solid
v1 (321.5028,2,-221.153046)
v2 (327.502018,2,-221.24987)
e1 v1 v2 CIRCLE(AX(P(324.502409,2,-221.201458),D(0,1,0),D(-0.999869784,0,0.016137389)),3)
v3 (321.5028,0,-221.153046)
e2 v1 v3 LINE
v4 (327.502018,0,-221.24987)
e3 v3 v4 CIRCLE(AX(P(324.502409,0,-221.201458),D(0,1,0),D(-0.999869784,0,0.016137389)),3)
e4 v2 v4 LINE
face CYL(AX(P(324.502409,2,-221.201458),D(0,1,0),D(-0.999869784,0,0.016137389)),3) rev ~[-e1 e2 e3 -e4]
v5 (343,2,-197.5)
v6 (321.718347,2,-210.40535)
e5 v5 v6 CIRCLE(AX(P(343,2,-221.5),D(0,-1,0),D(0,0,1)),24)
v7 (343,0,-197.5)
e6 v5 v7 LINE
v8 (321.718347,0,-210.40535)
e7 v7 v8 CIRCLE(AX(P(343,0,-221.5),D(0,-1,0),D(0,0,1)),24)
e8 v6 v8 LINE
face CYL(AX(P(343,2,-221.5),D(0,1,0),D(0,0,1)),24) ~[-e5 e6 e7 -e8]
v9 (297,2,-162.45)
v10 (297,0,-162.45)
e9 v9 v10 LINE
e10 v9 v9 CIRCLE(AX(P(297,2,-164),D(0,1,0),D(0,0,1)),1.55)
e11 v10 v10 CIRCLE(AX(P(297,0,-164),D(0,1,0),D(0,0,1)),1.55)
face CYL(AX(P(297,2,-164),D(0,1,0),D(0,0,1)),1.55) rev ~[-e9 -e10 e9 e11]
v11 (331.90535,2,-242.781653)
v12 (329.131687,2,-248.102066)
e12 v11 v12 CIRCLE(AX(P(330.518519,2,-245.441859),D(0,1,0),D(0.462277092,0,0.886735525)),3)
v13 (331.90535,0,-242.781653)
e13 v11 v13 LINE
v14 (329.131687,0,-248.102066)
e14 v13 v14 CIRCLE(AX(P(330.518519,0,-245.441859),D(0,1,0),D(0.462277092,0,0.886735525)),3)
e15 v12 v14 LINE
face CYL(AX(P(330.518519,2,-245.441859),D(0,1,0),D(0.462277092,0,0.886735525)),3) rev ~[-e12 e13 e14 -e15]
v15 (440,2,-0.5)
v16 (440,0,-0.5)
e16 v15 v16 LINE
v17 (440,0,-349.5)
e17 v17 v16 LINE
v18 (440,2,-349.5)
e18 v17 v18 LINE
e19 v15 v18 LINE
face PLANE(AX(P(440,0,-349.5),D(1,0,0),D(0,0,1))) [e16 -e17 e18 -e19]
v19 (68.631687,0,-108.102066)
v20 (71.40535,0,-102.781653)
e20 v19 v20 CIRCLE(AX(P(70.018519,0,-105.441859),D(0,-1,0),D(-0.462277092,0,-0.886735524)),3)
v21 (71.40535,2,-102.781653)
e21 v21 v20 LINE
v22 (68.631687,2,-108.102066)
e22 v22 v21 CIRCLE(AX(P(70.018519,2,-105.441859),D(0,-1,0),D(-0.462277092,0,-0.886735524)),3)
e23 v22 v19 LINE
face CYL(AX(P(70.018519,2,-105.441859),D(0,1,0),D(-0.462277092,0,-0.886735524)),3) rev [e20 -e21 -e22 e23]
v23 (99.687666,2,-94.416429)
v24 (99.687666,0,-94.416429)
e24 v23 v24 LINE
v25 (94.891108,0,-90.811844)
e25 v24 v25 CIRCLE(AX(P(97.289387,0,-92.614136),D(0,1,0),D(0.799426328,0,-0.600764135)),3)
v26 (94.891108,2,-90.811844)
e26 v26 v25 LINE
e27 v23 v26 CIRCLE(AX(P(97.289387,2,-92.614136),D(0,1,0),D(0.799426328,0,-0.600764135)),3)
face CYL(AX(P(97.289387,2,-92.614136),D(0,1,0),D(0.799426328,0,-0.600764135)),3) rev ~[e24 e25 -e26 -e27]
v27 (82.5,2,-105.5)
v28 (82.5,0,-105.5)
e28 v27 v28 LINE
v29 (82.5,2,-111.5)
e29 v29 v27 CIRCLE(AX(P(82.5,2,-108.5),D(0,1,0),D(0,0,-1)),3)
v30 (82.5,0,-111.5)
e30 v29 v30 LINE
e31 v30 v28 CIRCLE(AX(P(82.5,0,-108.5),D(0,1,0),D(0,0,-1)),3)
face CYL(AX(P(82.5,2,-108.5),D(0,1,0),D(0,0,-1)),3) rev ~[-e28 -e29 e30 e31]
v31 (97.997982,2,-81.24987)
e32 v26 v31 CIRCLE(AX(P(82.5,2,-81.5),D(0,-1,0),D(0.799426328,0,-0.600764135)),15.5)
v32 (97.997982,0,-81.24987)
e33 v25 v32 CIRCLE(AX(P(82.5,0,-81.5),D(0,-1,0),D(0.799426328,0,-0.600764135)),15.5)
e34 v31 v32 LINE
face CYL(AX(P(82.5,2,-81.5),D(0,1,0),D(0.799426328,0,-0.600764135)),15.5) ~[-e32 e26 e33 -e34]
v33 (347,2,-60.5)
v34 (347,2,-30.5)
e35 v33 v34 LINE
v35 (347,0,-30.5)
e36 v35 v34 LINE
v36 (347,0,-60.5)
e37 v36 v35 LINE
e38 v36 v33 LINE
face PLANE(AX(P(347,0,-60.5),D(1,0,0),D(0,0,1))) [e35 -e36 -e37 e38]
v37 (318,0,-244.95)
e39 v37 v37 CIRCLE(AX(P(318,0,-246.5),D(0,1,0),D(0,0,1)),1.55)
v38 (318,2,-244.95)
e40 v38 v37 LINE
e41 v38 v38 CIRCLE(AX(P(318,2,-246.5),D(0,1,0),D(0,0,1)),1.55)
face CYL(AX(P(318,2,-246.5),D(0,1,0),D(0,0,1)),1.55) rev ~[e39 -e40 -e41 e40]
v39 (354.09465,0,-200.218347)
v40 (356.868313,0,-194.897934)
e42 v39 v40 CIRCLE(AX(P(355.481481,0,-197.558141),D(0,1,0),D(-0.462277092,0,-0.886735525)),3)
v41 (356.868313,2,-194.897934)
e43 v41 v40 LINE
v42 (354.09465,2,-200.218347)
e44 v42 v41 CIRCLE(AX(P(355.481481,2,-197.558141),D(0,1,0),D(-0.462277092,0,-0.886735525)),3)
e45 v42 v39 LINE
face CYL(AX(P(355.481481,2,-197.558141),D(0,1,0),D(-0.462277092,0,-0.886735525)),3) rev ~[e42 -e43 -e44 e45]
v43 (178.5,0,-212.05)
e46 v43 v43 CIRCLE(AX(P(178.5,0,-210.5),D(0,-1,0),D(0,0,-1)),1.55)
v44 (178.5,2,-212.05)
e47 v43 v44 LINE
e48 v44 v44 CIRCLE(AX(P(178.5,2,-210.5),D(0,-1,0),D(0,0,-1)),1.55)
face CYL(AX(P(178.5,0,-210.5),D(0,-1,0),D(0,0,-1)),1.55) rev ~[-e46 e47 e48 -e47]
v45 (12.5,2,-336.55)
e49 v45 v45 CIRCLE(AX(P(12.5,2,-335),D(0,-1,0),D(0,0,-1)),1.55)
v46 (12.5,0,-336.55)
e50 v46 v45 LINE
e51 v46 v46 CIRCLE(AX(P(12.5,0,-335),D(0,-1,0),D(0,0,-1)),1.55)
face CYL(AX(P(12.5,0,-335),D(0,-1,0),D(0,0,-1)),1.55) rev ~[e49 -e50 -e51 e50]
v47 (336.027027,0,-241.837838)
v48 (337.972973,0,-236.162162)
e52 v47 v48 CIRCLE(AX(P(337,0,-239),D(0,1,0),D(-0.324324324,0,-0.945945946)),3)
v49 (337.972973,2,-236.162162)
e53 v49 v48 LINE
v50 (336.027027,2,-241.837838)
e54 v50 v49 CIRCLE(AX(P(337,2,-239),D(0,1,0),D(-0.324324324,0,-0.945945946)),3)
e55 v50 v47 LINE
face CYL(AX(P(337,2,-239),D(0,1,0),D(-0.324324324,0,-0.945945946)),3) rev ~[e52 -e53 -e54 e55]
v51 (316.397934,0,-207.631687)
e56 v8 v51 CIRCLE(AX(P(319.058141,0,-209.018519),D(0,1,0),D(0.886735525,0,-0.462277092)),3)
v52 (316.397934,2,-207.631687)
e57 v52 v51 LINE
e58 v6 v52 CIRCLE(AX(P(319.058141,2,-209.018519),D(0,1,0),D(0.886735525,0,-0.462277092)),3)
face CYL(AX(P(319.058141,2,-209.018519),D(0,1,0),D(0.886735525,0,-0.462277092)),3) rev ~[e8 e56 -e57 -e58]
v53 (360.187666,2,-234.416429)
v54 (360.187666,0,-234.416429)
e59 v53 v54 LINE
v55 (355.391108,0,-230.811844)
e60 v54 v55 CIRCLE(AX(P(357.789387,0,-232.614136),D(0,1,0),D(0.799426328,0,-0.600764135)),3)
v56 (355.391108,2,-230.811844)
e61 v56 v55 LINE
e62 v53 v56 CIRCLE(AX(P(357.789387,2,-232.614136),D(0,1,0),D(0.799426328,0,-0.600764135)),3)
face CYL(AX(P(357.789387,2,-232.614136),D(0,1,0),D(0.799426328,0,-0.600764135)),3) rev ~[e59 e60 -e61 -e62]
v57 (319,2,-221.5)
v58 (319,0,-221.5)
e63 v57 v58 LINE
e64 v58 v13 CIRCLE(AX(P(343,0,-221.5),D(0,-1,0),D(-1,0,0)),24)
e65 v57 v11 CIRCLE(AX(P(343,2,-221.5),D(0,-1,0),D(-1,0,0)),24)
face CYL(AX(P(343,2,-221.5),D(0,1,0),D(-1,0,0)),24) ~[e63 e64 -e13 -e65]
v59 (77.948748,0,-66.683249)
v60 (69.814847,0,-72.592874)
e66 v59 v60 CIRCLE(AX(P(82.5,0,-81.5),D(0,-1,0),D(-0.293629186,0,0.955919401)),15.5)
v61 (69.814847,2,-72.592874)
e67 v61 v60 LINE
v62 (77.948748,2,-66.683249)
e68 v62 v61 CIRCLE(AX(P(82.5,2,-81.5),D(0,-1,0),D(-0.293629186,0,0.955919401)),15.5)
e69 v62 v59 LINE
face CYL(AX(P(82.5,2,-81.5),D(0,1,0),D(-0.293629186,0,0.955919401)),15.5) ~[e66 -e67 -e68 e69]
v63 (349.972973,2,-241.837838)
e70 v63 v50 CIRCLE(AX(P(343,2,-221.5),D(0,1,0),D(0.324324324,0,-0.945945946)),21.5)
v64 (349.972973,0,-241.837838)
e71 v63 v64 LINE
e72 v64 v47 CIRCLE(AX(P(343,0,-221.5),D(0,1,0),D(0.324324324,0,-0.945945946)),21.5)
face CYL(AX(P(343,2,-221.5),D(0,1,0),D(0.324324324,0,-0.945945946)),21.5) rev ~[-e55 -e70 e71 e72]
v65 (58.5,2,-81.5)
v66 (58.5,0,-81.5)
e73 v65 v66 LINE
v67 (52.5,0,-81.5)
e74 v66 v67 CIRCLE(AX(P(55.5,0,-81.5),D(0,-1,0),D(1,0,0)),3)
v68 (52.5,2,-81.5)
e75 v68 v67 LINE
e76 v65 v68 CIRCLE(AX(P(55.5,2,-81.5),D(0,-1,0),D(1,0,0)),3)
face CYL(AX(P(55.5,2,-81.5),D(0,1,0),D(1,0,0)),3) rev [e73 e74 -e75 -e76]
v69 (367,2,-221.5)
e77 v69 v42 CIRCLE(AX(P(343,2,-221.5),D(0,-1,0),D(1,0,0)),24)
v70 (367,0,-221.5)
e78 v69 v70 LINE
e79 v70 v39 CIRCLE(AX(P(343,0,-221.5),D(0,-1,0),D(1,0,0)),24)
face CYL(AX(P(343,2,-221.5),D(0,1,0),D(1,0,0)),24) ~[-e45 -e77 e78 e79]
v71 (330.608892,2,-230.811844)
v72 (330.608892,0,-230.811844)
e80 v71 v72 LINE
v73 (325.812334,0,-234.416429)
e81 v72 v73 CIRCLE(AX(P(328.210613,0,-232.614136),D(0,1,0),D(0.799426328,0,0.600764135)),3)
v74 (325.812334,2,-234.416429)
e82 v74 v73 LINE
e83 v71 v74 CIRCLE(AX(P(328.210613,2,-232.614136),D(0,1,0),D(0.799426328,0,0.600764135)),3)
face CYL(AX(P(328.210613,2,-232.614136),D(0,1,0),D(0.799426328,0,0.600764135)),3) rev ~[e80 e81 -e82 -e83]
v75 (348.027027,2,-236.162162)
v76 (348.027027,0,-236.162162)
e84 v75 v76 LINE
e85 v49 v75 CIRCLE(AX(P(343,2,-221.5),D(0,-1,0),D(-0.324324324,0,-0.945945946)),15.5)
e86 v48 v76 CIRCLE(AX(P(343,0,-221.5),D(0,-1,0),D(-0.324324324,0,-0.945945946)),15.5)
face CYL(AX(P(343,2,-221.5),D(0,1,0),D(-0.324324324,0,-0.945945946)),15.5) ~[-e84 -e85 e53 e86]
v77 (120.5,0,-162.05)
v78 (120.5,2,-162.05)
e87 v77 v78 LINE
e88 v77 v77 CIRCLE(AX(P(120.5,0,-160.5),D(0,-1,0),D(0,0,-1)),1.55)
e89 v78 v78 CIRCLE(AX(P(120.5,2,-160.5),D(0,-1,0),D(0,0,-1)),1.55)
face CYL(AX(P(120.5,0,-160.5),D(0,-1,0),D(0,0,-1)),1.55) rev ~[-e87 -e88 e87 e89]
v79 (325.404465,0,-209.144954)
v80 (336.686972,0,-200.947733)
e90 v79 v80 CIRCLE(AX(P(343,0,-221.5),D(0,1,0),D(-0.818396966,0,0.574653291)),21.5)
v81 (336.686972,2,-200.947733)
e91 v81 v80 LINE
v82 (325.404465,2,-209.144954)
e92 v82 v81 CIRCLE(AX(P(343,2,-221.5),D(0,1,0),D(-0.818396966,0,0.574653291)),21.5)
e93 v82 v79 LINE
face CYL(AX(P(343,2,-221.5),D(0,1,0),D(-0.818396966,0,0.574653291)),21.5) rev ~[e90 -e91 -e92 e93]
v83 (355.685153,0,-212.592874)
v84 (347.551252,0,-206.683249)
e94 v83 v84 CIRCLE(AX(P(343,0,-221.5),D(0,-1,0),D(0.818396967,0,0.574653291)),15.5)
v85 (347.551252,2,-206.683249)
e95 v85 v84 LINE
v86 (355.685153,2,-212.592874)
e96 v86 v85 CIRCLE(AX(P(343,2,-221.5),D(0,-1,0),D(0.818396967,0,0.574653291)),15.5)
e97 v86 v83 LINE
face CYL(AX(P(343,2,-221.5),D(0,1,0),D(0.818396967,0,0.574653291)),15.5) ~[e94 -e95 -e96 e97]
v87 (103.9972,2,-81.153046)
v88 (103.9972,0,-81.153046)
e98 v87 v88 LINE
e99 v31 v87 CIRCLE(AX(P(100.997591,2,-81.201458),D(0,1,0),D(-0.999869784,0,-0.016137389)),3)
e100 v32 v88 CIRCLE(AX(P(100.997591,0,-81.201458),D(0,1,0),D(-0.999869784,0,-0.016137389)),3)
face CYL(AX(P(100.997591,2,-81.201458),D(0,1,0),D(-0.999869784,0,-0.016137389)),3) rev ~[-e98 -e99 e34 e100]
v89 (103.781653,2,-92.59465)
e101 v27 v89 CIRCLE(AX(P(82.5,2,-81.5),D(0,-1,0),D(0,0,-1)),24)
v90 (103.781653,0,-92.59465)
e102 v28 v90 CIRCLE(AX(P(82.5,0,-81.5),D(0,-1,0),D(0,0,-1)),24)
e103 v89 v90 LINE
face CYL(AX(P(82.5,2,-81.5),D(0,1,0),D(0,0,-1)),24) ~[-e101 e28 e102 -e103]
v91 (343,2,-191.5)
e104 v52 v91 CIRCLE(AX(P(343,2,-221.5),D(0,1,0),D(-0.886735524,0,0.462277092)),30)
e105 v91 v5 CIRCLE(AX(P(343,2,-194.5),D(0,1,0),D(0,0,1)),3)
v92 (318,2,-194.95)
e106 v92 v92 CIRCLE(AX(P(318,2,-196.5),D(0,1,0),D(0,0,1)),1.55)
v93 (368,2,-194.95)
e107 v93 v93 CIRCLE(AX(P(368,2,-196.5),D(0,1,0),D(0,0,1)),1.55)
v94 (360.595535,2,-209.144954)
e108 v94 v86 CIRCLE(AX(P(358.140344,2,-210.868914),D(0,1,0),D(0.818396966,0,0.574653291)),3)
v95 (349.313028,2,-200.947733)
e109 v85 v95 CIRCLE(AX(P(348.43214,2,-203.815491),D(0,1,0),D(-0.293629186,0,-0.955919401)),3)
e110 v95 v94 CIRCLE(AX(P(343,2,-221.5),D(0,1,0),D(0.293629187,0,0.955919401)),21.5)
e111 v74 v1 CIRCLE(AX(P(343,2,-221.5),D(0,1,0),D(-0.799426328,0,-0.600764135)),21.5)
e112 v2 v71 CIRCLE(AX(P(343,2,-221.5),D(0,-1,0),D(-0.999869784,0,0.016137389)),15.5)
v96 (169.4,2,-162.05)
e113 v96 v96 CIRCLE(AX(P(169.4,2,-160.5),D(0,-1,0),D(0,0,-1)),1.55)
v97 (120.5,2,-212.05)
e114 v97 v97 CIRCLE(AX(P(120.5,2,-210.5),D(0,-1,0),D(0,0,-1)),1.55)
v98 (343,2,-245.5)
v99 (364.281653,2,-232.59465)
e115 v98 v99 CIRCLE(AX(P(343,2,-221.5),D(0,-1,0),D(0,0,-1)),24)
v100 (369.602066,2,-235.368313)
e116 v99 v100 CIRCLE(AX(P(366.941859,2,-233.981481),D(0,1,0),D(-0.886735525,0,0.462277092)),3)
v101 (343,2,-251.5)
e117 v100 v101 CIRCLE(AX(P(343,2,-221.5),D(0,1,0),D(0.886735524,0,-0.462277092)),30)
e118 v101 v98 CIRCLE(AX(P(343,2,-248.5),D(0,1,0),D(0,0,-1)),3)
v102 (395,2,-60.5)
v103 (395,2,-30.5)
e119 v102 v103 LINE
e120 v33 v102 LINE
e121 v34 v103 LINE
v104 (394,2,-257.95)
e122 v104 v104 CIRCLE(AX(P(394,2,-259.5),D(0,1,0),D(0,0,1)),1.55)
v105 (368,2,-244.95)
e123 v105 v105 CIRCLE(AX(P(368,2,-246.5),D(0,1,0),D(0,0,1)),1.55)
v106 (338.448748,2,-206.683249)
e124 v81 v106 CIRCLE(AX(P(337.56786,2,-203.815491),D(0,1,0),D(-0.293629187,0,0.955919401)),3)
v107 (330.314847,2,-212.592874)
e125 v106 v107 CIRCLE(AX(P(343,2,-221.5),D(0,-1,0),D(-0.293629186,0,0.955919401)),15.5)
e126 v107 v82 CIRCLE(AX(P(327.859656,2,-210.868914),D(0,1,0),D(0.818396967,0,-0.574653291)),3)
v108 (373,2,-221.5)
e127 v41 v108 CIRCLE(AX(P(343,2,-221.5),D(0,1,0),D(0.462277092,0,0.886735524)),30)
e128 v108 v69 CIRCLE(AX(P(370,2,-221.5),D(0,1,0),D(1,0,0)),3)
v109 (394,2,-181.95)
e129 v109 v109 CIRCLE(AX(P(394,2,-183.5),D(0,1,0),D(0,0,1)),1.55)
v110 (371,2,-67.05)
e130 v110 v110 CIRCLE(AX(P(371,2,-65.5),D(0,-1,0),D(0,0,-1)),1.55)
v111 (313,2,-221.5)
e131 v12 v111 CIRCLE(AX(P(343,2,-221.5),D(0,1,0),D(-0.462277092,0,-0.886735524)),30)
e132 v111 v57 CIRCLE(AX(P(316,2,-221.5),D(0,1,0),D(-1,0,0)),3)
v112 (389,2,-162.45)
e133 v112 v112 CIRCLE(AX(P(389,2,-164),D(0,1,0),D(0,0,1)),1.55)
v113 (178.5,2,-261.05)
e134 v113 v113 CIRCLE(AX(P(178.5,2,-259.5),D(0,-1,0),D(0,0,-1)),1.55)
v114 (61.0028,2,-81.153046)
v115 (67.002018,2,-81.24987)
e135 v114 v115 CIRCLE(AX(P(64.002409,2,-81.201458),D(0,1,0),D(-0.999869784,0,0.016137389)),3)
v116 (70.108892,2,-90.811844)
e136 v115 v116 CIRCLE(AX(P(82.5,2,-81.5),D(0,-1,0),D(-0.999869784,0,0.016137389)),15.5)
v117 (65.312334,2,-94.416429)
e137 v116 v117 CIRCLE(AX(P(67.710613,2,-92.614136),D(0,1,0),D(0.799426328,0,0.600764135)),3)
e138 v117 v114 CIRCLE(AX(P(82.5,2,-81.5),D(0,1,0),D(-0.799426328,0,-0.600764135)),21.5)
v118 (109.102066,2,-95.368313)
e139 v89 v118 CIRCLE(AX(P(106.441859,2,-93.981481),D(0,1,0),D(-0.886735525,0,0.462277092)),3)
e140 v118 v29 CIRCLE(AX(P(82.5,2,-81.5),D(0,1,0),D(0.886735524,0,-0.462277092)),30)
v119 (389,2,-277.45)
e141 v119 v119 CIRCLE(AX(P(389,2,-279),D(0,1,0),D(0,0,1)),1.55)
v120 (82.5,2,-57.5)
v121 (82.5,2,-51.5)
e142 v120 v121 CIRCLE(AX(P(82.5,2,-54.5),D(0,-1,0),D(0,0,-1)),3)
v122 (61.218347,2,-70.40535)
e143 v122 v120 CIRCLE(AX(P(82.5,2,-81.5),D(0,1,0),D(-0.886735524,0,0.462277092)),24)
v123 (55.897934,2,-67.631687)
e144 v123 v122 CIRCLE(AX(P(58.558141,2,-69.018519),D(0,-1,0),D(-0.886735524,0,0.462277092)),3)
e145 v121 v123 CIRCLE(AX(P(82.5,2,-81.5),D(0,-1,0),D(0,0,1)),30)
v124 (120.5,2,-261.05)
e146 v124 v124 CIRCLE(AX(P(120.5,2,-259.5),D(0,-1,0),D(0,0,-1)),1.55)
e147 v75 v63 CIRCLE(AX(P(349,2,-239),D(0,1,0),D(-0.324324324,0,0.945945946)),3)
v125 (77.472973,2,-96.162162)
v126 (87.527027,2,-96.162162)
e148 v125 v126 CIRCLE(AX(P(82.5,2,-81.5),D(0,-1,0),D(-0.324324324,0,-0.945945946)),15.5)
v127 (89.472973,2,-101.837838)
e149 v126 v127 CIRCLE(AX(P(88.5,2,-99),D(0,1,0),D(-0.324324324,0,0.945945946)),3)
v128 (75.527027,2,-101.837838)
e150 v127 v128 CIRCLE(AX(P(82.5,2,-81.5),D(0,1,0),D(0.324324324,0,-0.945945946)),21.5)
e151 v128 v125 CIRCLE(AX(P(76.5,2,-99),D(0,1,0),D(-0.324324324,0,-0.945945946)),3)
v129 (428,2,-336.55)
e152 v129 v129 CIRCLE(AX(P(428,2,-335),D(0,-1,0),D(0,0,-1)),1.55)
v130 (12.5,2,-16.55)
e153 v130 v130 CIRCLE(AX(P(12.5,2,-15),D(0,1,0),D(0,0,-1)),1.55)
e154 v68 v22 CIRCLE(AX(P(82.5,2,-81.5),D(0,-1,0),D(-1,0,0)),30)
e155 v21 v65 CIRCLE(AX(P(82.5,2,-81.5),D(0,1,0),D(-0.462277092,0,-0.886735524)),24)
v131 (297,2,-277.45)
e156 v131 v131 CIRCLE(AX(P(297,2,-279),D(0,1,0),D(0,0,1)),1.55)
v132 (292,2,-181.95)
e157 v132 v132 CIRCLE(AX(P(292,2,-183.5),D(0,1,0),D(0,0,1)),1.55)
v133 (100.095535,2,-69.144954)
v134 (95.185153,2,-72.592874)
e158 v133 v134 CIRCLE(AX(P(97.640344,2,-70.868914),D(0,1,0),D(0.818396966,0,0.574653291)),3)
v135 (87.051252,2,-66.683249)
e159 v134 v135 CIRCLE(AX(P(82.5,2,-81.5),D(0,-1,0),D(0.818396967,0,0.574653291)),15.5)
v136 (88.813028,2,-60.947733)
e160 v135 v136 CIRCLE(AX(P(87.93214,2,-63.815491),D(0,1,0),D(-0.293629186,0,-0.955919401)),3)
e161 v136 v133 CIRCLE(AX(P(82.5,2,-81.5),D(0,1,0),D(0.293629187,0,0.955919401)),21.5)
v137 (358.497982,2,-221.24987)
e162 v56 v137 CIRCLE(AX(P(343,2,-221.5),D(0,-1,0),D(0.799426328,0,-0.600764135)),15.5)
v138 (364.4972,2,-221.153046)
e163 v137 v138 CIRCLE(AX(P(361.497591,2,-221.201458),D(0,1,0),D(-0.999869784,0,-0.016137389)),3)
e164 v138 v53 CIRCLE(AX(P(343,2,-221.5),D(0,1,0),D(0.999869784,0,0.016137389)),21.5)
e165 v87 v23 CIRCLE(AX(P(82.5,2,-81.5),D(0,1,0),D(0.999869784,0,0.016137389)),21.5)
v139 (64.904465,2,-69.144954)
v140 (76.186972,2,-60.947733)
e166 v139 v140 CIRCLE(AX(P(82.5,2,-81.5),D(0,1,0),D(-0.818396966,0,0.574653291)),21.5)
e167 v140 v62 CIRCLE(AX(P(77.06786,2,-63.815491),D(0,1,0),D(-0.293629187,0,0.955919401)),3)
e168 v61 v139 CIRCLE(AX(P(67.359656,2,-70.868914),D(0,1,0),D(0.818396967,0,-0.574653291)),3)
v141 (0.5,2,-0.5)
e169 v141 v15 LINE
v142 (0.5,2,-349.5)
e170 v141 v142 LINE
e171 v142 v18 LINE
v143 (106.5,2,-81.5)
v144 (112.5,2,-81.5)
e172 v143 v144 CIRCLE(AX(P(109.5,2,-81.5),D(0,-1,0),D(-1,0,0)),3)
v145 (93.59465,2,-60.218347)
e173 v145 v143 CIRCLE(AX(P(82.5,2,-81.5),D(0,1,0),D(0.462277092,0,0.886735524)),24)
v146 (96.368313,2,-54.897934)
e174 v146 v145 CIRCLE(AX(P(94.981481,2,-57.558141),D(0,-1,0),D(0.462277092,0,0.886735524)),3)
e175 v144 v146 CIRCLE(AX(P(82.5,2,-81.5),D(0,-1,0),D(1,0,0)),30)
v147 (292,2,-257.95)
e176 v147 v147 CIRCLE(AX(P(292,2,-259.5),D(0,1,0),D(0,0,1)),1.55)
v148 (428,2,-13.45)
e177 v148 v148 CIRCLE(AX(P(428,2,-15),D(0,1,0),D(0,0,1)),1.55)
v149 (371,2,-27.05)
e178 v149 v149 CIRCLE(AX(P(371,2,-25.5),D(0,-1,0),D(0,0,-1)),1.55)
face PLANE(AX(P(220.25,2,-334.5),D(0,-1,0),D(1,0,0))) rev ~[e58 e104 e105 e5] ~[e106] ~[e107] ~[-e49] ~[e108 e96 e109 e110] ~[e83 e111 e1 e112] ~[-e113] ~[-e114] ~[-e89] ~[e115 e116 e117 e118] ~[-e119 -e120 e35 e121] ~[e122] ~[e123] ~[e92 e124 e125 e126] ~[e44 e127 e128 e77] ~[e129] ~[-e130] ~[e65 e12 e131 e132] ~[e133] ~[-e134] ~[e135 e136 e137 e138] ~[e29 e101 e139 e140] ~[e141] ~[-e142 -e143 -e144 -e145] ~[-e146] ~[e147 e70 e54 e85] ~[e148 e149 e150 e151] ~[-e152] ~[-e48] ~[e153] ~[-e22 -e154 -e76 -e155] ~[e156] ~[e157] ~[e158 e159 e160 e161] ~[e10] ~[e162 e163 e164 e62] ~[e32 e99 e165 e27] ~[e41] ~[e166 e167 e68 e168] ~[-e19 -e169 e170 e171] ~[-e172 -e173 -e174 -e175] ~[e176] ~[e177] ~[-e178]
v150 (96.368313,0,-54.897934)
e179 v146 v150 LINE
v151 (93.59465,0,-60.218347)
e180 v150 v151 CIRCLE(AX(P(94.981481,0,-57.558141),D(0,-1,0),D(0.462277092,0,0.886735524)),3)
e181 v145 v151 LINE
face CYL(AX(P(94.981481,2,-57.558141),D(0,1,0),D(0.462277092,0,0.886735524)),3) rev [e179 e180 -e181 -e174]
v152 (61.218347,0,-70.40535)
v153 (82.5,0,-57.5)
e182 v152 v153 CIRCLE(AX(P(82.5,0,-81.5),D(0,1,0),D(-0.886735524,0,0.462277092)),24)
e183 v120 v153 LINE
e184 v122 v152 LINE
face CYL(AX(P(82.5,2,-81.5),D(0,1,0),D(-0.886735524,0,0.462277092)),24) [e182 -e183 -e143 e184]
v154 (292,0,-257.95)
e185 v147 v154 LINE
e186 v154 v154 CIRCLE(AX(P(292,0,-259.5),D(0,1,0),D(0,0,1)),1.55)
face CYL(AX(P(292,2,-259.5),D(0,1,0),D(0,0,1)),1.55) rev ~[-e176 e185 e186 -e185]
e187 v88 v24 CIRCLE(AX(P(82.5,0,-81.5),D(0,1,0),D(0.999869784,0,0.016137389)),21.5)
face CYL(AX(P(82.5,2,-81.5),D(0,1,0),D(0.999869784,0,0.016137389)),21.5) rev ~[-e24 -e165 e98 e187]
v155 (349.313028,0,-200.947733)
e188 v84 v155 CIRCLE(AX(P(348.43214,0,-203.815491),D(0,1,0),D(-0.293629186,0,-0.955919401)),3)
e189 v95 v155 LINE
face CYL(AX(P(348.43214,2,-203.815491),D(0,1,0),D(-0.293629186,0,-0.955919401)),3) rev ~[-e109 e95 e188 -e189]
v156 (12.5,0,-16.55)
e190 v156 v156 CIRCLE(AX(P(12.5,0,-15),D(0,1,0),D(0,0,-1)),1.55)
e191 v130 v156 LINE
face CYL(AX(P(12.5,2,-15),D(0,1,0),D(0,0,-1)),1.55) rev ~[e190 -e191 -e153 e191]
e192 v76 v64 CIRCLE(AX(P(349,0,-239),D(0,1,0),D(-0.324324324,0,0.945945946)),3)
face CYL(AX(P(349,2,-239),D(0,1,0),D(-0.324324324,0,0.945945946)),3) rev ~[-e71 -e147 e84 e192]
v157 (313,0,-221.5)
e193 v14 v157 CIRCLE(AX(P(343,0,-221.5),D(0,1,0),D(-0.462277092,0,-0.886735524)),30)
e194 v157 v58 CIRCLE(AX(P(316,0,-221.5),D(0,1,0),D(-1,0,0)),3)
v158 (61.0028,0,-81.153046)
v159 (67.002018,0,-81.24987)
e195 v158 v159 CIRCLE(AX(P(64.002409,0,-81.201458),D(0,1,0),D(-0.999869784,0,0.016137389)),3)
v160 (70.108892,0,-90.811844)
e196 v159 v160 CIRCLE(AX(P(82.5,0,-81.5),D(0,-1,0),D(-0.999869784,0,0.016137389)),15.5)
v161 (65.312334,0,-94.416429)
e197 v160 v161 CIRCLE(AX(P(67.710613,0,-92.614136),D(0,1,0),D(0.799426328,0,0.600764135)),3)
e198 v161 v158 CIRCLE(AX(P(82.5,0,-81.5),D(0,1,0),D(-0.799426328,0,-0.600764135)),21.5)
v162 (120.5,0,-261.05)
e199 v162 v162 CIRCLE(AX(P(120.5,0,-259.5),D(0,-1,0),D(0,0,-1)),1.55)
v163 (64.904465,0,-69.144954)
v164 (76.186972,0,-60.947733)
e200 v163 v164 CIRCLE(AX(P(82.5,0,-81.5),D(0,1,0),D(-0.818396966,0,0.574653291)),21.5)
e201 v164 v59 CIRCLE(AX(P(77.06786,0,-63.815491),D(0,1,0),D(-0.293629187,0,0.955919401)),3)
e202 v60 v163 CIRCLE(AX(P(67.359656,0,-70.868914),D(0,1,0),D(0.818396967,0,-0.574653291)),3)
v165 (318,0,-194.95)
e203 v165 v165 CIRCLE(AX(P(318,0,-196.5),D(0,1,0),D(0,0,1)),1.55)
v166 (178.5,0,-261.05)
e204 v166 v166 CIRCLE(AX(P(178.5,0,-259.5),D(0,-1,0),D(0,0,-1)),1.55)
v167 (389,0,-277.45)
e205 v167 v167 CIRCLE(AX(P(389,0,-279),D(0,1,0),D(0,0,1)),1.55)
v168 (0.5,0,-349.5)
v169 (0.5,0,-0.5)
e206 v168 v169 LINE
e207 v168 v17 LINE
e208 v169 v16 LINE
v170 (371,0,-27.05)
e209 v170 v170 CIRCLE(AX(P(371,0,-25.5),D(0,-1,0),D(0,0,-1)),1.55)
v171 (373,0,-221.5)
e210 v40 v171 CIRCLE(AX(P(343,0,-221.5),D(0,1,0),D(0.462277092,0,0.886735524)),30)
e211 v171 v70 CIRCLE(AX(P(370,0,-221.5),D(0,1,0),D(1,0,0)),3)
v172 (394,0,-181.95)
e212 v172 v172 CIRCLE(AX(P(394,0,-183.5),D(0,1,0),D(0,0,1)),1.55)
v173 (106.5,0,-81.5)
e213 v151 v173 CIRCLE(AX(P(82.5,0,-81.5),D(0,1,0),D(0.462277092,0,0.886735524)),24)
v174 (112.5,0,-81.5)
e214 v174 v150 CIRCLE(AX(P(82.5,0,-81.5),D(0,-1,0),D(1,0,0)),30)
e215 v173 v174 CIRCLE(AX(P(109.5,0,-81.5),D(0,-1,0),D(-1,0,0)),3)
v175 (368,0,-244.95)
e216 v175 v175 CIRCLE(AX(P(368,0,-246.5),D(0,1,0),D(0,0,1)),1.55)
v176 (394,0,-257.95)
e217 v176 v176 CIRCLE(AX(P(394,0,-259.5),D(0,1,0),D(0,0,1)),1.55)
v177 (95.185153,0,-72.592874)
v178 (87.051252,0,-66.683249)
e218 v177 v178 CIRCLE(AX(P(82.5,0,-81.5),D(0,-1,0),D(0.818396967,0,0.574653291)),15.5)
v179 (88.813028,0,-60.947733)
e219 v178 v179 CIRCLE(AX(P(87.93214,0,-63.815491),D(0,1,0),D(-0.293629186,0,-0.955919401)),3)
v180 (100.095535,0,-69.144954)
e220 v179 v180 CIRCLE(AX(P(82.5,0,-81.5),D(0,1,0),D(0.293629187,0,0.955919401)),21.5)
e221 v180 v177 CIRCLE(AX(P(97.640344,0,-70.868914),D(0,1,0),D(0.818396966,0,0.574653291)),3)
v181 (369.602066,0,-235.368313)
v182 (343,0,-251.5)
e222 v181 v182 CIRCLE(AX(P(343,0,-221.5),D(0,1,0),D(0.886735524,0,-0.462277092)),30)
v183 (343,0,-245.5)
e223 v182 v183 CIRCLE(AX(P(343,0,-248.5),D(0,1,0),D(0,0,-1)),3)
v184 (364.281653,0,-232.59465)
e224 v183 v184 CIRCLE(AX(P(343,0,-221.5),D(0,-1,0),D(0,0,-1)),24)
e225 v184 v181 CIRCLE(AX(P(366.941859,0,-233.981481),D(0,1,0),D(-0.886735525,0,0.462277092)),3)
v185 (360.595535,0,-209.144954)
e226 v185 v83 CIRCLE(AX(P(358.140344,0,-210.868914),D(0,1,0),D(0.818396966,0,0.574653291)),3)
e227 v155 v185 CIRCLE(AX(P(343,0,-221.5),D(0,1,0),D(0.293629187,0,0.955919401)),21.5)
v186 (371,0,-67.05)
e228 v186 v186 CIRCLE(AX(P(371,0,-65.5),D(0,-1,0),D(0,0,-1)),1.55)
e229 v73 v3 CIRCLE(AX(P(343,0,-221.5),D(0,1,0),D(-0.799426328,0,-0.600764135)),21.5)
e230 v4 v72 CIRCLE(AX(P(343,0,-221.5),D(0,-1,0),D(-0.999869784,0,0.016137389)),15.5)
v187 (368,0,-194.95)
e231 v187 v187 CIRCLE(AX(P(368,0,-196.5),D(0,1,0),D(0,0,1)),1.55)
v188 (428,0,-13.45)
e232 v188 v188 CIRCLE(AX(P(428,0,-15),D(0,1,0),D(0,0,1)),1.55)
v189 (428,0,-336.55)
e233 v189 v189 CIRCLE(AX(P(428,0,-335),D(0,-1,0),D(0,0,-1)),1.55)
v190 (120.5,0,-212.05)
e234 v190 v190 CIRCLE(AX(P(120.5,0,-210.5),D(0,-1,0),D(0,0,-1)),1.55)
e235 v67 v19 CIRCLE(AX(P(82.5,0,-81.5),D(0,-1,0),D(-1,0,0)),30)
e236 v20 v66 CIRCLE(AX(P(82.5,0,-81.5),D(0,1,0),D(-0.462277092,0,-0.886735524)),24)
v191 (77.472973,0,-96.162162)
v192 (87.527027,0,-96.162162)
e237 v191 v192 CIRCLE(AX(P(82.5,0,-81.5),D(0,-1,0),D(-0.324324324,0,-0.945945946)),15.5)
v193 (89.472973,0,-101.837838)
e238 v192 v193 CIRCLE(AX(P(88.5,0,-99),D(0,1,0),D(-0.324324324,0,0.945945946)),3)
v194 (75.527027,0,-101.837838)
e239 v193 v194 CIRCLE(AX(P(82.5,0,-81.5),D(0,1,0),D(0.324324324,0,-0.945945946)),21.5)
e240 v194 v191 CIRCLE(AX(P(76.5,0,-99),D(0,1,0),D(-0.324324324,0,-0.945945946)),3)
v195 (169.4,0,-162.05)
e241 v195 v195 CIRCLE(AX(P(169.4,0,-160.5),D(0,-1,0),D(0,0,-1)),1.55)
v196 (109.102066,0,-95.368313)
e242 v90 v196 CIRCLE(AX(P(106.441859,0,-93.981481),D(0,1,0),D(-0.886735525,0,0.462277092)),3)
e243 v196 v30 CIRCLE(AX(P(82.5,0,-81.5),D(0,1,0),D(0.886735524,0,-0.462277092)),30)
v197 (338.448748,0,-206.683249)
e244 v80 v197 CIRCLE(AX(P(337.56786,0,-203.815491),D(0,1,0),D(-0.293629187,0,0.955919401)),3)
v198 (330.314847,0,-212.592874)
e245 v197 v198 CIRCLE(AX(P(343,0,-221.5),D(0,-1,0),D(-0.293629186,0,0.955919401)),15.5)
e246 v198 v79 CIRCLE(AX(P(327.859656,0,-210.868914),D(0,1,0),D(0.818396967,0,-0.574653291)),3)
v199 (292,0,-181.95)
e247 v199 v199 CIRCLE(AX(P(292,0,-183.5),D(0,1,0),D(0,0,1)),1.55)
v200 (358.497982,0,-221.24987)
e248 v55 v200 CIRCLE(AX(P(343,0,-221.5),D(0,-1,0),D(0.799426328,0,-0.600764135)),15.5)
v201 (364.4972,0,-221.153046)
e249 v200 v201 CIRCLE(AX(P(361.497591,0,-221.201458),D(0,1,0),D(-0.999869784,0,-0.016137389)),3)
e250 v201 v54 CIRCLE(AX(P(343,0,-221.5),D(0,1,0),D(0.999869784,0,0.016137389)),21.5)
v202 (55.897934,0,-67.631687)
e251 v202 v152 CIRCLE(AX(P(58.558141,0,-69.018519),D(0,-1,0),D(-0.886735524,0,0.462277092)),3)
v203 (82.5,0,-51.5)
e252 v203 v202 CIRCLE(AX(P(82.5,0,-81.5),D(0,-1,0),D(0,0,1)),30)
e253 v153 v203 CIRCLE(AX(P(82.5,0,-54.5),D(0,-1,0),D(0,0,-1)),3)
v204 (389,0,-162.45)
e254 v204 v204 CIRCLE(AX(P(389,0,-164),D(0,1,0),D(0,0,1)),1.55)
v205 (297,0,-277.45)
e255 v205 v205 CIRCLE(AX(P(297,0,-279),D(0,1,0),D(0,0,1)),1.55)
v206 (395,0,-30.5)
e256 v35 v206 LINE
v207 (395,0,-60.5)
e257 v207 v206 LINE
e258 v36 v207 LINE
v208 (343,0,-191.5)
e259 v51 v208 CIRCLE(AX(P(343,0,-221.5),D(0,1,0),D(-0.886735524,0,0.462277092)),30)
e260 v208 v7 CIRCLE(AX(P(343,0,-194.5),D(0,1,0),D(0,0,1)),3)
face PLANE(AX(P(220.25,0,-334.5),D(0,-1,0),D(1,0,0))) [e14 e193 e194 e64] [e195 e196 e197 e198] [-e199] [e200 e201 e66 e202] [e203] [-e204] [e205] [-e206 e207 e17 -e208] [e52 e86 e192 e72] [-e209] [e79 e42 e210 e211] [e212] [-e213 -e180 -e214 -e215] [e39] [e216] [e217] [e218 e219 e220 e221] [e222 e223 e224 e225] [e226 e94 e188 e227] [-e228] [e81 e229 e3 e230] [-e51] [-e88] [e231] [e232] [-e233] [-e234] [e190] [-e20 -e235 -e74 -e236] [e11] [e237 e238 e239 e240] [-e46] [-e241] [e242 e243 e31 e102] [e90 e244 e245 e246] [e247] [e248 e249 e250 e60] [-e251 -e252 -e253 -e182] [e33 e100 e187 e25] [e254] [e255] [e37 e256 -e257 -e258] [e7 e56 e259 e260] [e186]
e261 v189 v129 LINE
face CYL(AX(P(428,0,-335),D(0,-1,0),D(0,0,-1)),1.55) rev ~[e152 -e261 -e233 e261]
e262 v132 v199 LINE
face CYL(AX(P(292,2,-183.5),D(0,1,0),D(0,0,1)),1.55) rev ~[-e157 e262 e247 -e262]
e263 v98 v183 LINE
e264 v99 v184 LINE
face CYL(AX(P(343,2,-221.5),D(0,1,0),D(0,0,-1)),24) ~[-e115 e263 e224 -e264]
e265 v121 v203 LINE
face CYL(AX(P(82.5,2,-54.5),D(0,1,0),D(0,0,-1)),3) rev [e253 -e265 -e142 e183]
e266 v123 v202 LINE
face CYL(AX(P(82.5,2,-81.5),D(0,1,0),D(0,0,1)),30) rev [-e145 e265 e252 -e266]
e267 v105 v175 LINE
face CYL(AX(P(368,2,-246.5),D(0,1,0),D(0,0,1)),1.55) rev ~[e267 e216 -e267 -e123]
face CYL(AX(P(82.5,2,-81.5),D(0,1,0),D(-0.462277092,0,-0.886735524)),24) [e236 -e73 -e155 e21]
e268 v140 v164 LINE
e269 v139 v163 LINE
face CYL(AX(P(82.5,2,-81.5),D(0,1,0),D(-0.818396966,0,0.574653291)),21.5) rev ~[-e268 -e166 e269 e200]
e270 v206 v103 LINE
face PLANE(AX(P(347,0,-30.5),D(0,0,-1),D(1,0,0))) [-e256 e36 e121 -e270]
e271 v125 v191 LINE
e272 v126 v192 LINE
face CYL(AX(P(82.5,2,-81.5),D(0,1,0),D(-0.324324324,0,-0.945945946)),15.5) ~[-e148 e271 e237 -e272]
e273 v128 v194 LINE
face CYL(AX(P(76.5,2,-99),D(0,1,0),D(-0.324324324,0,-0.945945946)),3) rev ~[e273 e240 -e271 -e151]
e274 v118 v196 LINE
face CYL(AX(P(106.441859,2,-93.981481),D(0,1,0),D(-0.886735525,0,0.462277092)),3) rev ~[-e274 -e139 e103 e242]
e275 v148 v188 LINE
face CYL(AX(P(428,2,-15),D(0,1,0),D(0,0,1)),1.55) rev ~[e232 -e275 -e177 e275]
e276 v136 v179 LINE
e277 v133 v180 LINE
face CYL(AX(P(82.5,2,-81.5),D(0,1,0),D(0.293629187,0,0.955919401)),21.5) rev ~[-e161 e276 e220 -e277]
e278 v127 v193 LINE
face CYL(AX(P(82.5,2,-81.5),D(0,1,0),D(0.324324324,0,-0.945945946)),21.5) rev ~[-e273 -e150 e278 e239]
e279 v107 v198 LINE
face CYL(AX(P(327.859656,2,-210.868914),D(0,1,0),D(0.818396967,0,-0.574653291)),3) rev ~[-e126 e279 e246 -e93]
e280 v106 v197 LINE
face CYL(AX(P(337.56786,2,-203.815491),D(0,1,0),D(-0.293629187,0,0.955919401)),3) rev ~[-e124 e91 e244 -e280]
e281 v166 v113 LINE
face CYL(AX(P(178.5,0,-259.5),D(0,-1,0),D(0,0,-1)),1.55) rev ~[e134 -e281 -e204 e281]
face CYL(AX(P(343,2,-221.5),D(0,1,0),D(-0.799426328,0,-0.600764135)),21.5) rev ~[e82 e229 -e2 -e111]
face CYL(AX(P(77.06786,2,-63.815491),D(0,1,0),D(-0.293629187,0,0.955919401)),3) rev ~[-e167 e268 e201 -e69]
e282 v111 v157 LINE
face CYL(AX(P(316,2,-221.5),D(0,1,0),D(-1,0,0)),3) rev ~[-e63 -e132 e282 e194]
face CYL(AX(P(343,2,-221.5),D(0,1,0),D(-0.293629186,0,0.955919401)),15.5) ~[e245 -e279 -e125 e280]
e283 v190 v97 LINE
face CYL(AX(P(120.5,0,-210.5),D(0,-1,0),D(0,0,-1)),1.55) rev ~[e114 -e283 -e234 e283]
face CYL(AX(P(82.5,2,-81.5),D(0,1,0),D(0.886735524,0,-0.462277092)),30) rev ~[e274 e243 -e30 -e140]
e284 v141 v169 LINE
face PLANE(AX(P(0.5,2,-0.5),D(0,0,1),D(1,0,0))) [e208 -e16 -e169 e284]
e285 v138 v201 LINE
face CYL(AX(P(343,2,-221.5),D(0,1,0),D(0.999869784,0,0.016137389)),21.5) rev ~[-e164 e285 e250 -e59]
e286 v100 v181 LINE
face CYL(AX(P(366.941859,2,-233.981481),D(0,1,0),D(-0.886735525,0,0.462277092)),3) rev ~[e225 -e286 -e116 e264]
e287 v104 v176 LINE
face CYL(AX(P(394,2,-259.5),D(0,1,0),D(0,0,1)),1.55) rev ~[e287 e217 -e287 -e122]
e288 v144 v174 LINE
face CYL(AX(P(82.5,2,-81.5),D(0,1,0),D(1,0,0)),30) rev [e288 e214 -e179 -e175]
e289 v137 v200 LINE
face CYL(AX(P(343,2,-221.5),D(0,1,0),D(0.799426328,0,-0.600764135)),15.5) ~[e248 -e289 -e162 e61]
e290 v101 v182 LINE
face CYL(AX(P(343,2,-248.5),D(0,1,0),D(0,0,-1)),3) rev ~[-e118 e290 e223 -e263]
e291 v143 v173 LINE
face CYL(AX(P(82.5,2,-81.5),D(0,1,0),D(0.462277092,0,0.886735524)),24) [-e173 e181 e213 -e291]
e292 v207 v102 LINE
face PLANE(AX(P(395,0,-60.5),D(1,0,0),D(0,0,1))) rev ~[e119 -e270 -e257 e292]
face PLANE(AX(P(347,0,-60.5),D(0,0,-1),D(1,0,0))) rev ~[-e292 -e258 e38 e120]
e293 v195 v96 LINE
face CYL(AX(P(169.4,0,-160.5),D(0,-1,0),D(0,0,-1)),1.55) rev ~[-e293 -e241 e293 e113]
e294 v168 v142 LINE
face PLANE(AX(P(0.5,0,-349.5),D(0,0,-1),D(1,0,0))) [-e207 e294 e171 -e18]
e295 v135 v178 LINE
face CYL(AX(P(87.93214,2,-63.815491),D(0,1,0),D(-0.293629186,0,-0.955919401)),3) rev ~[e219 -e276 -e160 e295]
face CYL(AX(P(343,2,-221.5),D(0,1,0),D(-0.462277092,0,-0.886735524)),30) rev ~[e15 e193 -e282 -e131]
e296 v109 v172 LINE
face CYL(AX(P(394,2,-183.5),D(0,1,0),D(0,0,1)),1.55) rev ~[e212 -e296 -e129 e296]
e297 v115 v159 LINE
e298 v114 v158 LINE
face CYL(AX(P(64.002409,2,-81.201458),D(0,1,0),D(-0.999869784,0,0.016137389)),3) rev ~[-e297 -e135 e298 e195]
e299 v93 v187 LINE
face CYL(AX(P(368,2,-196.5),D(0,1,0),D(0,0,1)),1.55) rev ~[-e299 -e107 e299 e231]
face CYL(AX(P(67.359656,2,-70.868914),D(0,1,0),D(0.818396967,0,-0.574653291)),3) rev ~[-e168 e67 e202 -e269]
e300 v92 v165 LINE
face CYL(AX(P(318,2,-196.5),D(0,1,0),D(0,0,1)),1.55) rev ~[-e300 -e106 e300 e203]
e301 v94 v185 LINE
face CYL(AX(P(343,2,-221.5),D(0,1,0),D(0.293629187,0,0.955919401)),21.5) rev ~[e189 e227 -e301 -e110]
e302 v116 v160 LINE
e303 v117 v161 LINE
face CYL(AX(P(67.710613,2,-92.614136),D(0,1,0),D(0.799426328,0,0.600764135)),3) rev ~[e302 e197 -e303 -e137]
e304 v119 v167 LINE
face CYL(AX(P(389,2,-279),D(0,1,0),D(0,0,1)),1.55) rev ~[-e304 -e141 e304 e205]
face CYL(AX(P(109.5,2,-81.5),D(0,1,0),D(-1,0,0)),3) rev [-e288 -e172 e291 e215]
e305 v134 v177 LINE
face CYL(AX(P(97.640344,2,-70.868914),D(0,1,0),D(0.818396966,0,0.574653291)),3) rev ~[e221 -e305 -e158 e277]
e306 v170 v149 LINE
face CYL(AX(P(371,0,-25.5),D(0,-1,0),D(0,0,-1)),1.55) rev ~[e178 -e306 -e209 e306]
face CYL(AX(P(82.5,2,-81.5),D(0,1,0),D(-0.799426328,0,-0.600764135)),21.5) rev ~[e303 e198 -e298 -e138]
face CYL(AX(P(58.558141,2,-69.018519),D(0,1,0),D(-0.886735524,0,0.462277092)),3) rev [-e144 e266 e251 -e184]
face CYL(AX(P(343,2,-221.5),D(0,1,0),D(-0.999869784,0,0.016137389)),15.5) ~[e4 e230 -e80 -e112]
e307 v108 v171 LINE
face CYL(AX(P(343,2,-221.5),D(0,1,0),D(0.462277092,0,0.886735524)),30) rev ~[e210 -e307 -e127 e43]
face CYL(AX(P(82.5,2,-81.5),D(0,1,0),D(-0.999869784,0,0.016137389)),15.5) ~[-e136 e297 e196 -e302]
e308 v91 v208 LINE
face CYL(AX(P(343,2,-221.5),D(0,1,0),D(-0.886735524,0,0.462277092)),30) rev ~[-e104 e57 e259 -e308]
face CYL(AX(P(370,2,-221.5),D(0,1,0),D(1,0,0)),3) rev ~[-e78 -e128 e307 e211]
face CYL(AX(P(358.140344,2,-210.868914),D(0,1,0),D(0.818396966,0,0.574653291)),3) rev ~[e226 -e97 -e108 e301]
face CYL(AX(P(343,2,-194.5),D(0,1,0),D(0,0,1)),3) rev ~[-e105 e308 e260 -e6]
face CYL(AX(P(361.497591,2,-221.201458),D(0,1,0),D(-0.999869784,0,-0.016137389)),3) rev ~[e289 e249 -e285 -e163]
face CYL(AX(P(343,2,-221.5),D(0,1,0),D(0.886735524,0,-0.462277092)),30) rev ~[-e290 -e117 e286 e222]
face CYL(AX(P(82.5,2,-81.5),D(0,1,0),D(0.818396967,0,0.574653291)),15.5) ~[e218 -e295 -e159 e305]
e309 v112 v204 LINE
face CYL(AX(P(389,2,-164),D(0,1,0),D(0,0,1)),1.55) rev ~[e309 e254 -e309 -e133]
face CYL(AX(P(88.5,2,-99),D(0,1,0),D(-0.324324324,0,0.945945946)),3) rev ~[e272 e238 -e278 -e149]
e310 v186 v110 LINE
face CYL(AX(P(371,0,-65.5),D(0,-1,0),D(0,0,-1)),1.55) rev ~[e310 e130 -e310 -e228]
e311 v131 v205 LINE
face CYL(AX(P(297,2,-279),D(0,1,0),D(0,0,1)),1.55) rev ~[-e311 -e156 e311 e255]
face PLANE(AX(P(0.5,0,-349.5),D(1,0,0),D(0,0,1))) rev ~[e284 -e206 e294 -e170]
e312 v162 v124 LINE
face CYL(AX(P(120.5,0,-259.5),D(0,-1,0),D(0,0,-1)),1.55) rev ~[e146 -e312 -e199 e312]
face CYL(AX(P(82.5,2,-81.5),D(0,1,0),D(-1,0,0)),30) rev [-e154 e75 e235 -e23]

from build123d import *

# Parameters (mm, degrees)
CROQUIS1_W              = 440.5
CROQUIS1_H              = 320
SALIENTE_EXTRUIR1_DEPTH = 2
CROQUIS2_R              = 1.55
CORTAR_EXTRUIR1_DEPTH   = 2
CROQUIS3_W              = 440.5
CROQUIS3_H              = 320
CROQUIS3_W_2            = 439.5
CROQUIS3_H_2            = 319
CORTAR_EXTRUIR2_DEPTH   = 2
CROQUIS4_R              = 1.55
CORTAR_EXTRUIR3_DEPTH   = 2
CROQUIS5_R              = 1.55
CROQUIS5_W              = 48
CROQUIS5_H              = 30
CORTAR_EXTRUIR4_DEPTH   = 2
CROQUIS6_R              = 1.55
CORTAR_EXTRUIR5_DEPTH   = 2
CROQUIS7_R              = 1.55
CORTAR_EXTRUIR6_DEPTH   = 2
CROQUIS8_W              = 439.5
CROQUIS8_H              = 30
SALIENTE_EXTRUIR2_DEPTH = 2
CROQUIS9_R              = 1.55
CORTAR_EXTRUIR7_DEPTH   = 2
CROQUIS10_R             = 1.75
SALIENTE_EXTRUIR3_DEPTH = 2


with BuildPart() as part:
    # Croquis1 → Saliente-Extruir1 (new body)
    with BuildSketch(Plane(origin=(0, 0, 0), x_dir=(1, 0, 0), z_dir=(0, 1, 0))):
        with Locations((220.25, 160)):
            Rectangle(CROQUIS1_W, CROQUIS1_H)
    extrude(amount=SALIENTE_EXTRUIR1_DEPTH)

    # Croquis2 → Cortar-Extruir1 (cut)
    with BuildSketch(Plane(origin=(0, 2, 0), x_dir=(1, 0, 0), z_dir=(0, 1, 0))):
        with Locations(Location((12.5, 305, 0), (0, 0, 270))):
            Circle(CROQUIS2_R)
        with Locations(Location((428, 305, 0), (0, 0, 90))):
            Circle(CROQUIS2_R)
        with Locations(Location((428, 15, 0), (0, 0, 270))):
            Circle(CROQUIS2_R)
        with Locations(Location((12.5, 15, 0), (0, 0, 90))):
            Circle(CROQUIS2_R)
    extrude(amount=-CORTAR_EXTRUIR1_DEPTH, mode=Mode.SUBTRACT)

    # Croquis3 → Cortar-Extruir2 (cut)
    with BuildSketch(Plane(origin=(0, 2, 0), x_dir=(1, 0, 0), z_dir=(0, 1, 0))):
        with Locations((220.25, 160)):
            Rectangle(CROQUIS3_W, CROQUIS3_H)
        with Locations((220.25, 160)):
            Rectangle(CROQUIS3_W_2, CROQUIS3_H_2, mode=Mode.SUBTRACT)
    extrude(amount=-CORTAR_EXTRUIR2_DEPTH, mode=Mode.SUBTRACT)

    # Croquis4 → Cortar-Extruir3 (cut)
    with BuildSketch(Plane(origin=(0, 2, 0), x_dir=(1, 0, 0), z_dir=(0, 1, 0))):
        with Locations(Location((368, 246.5, 0), (0, 0, 270))):
            Circle(CROQUIS4_R)
        with Locations(Location((368, 196.5, 0), (0, 0, 270))):
            Circle(CROQUIS4_R)
        with Locations(Location((318, 196.5, 0), (0, 0, 270))):
            Circle(CROQUIS4_R)
        with Locations(Location((318, 246.5, 0), (0, 0, 270))):
            Circle(CROQUIS4_R)
        with Locations(Location((394, 259.5, 0), (0, 0, 270))):
            Circle(CROQUIS4_R)
        with Locations(Location((292, 259.5, 0), (0, 0, 270))):
            Circle(CROQUIS4_R)
        with Locations(Location((292, 183.5, 0), (0, 0, 270))):
            Circle(CROQUIS4_R)
        with Locations(Location((394, 183.5, 0), (0, 0, 270))):
            Circle(CROQUIS4_R)
        with Locations(Location((389, 279, 0), (0, 0, 270))):
            Circle(CROQUIS4_R)
        with Locations(Location((297, 279, 0), (0, 0, 270))):
            Circle(CROQUIS4_R)
        with Locations(Location((297, 164, 0), (0, 0, 270))):
            Circle(CROQUIS4_R)
        with Locations(Location((389, 164, 0), (0, 0, 270))):
            Circle(CROQUIS4_R)
        with BuildLine():
            ThreePointArc((109.102065733, 95.368312757), (98.055555556, 107.151991957), (82.5, 111.5))
            ThreePointArc((82.5, 111.5), (79.5, 108.5), (82.5, 105.5))
            ThreePointArc((82.5, 105.5), (94.944444444, 102.021593566), (103.781652586, 92.594650206))
            ThreePointArc((103.781652586, 92.594650206), (107.828690436, 91.321274908), (109.102065733, 95.368312757))
        make_face()
        with BuildLine():
            ThreePointArc((93.594650206, 60.218347414), (103.021593566, 69.055555556), (106.5, 81.5))
            ThreePointArc((106.5, 81.5), (109.5, 84.5), (112.5, 81.5))
            ThreePointArc((112.5, 81.5), (108.151991957, 65.944444444), (96.368312757, 54.897934267))
            ThreePointArc((96.368312757, 54.897934267), (92.321274908, 56.171309564), (93.594650206, 60.218347414))
        make_face()
        with BuildLine():
            ThreePointArc((61.218347414, 70.405349794), (70.055555556, 60.978406434), (82.5, 57.5))
            ThreePointArc((82.5, 57.5), (85.5, 54.5), (82.5, 51.5))
            ThreePointArc((82.5, 51.5), (66.944444444, 55.848008043), (55.897934267, 67.631687243))
            ThreePointArc((55.897934267, 67.631687243), (57.171309564, 71.678725092), (61.218347414, 70.405349794))
        make_face()
        with BuildLine():
            ThreePointArc((71.405349794, 102.781652586), (61.978406434, 93.944444444), (58.5, 81.5))
            ThreePointArc((58.5, 81.5), (55.5, 78.5), (52.5, 81.5))
            ThreePointArc((52.5, 81.5), (56.848008043, 97.055555556), (68.631687243, 108.102065733))
            ThreePointArc((68.631687243, 108.102065733), (72.678725092, 106.828690436), (71.405349794, 102.781652586))
        make_face()
        with BuildLine():
            ThreePointArc((89.472972973, 101.837837838), (82.5, 103), (75.527027027, 101.837837838))
            ThreePointArc((75.527027027, 101.837837838), (73.662162162, 98.027027027), (77.472972973, 96.162162162))
            ThreePointArc((77.472972973, 96.162162162), (82.5, 97), (87.527027027, 96.162162162))
            ThreePointArc((87.527027027, 96.162162162), (91.337837838, 98.027027027), (89.472972973, 101.837837838))
        make_face()
        with BuildLine():
            ThreePointArc((103.997200353, 81.153046137), (102.9477151, 88.143865379), (99.687666053, 94.416428905))
            ThreePointArc((99.687666053, 94.416428905), (95.487094664, 95.012415483), (94.891108085, 90.811844094))
            ThreePointArc((94.891108085, 90.811844094), (97.241376003, 86.289763413), (97.99798165, 81.249870471))
            ThreePointArc((97.99798165, 81.249870471), (100.949178834, 78.201848952), (103.997200353, 81.153046137))
        make_face()
        with BuildLine():
            ThreePointArc((88.813027508, 60.947732882), (95.137382924, 64.106134621), (100.095534781, 69.144954238))
            ThreePointArc((100.095534781, 69.144954238), (99.364303755, 73.324105012), (95.185152982, 72.592873986))
            ThreePointArc((95.185152982, 72.592873986), (91.610671411, 68.960236587), (87.05125239, 66.683249287))
            ThreePointArc((87.05125239, 66.683249287), (85.064381746, 62.934603525), (88.813027508, 60.947732882))
        make_face()
        with BuildLine():
            ThreePointArc((64.904465219, 69.144954238), (69.862617076, 64.106134621), (76.186972492, 60.947732882))
            ThreePointArc((76.186972492, 60.947732882), (79.935618254, 62.934603525), (77.94874761, 66.683249287))
            ThreePointArc((77.94874761, 66.683249287), (73.389328589, 68.960236587), (69.814847018, 72.592873986))
            ThreePointArc((69.814847018, 72.592873986), (65.635696245, 73.324105012), (64.904465219, 69.144954238))
        make_face()
        with BuildLine():
            ThreePointArc((65.312333947, 94.416428905), (62.0522849, 88.143865379), (61.002799647, 81.153046137))
            ThreePointArc((61.002799647, 81.153046137), (64.050821166, 78.201848952), (67.00201835, 81.249870471))
            ThreePointArc((67.00201835, 81.249870471), (67.758623997, 86.289763413), (70.108891915, 90.811844094))
            ThreePointArc((70.108891915, 90.811844094), (69.512905336, 95.012415483), (65.312333947, 94.416428905))
        make_face()
        with BuildLine():
            ThreePointArc((369.602065733, 235.368312757), (358.555555556, 247.151991957), (343, 251.5))
            ThreePointArc((343, 251.5), (340, 248.5), (343, 245.5))
            ThreePointArc((343, 245.5), (355.444444444, 242.021593566), (364.281652586, 232.594650206))
            ThreePointArc((364.281652586, 232.594650206), (368.328690436, 231.321274908), (369.602065733, 235.368312757))
        make_face()
        with BuildLine():
            ThreePointArc((356.868312757, 194.897934267), (368.651991957, 205.944444444), (373, 221.5))
            ThreePointArc((373, 221.5), (370, 224.5), (367, 221.5))
            ThreePointArc((367, 221.5), (363.521593566, 209.055555556), (354.094650206, 200.218347414))
            ThreePointArc((354.094650206, 200.218347414), (352.821274908, 196.171309564), (356.868312757, 194.897934267))
        make_face()
        with BuildLine():
            ThreePointArc((349.972972973, 241.837837838), (343, 243), (336.027027027, 241.837837838))
            ThreePointArc((336.027027027, 241.837837838), (334.162162162, 238.027027027), (337.972972973, 236.162162162))
            ThreePointArc((337.972972973, 236.162162162), (343, 237), (348.027027027, 236.162162162))
            ThreePointArc((348.027027027, 236.162162162), (351.837837838, 238.027027027), (349.972972973, 241.837837838))
        make_face()
        with BuildLine():
            ThreePointArc((316.397934267, 207.631687243), (327.444444444, 195.848008043), (343, 191.5))
            ThreePointArc((343, 191.5), (346, 194.5), (343, 197.5))
            ThreePointArc((343, 197.5), (330.555555556, 200.978406434), (321.718347414, 210.405349794))
            ThreePointArc((321.718347414, 210.405349794), (317.671309564, 211.678725092), (316.397934267, 207.631687243))
        make_face()
        with BuildLine():
            ThreePointArc((329.131687243, 248.102065733), (317.348008043, 237.055555556), (313, 221.5))
            ThreePointArc((313, 221.5), (316, 218.5), (319, 221.5))
            ThreePointArc((319, 221.5), (322.478406434, 233.944444444), (331.905349794, 242.781652586))
            ThreePointArc((331.905349794, 242.781652586), (333.178725092, 246.828690436), (329.131687243, 248.102065733))
        make_face()
        with BuildLine():
            ThreePointArc((364.497200353, 221.153046137), (363.4477151, 228.143865379), (360.187666053, 234.416428905))
            ThreePointArc((360.187666053, 234.416428905), (355.987094664, 235.012415483), (355.391108085, 230.811844094))
            ThreePointArc((355.391108085, 230.811844094), (357.741376003, 226.289763413), (358.49798165, 221.249870471))
            ThreePointArc((358.49798165, 221.249870471), (361.449178834, 218.201848952), (364.497200353, 221.153046137))
        make_face()
        with BuildLine():
            ThreePointArc((349.313027508, 200.947732882), (355.637382924, 204.106134621), (360.595534781, 209.144954238))
            ThreePointArc((360.595534781, 209.144954238), (359.864303755, 213.324105012), (355.685152982, 212.592873986))
            ThreePointArc((355.685152982, 212.592873986), (352.110671411, 208.960236587), (347.55125239, 206.683249287))
            ThreePointArc((347.55125239, 206.683249287), (345.564381746, 202.934603525), (349.313027508, 200.947732882))
        make_face()
        with BuildLine():
            ThreePointArc((325.404465219, 209.144954238), (330.362617076, 204.106134621), (336.686972492, 200.947732882))
            ThreePointArc((336.686972492, 200.947732882), (340.435618254, 202.934603525), (338.44874761, 206.683249287))
            ThreePointArc((338.44874761, 206.683249287), (333.889328589, 208.960236587), (330.314847018, 212.592873986))
            ThreePointArc((330.314847018, 212.592873986), (326.135696245, 213.324105012), (325.404465219, 209.144954238))
        make_face()
        with BuildLine():
            ThreePointArc((325.812333947, 234.416428905), (322.5522849, 228.143865379), (321.502799647, 221.153046137))
            ThreePointArc((321.502799647, 221.153046137), (324.550821166, 218.201848952), (327.50201835, 221.249870471))
            ThreePointArc((327.50201835, 221.249870471), (328.258623997, 226.289763413), (330.608891915, 230.811844094))
            ThreePointArc((330.608891915, 230.811844094), (330.012905336, 235.012415483), (325.812333947, 234.416428905))
        make_face()
    extrude(amount=-CORTAR_EXTRUIR3_DEPTH, mode=Mode.SUBTRACT)

    # Croquis5 → Cortar-Extruir4 (cut)
    with BuildSketch(Plane.XZ):
        with Locations(Location((371, -25.5, 0), (0, 0, 270))):
            Circle(CROQUIS5_R)
        with Locations(Location((371, -65.5, 0), (0, 0, 270))):
            Circle(CROQUIS5_R)
        with Locations((371, -45.5)):
            Rectangle(CROQUIS5_W, CROQUIS5_H)
    extrude(amount=-CORTAR_EXTRUIR4_DEPTH, mode=Mode.SUBTRACT)

    # Croquis6 → Cortar-Extruir5 (cut)
    with BuildSketch(Plane.XZ):
        with Locations(Location((178.5, -259.5, 0), (0, 0, 270))):
            Circle(CROQUIS6_R)
        with Locations(Location((178.5, -210.5, 0), (0, 0, 270))):
            Circle(CROQUIS6_R)
        with Locations(Location((120.5, -210.5, 0), (0, 0, 270))):
            Circle(CROQUIS6_R)
        with Locations(Location((120.5, -259.5, 0), (0, 0, 270))):
            Circle(CROQUIS6_R)
    extrude(amount=-CORTAR_EXTRUIR5_DEPTH, mode=Mode.SUBTRACT)

    # Croquis7 → Cortar-Extruir6 (cut)
    with BuildSketch(Plane.XZ):
        with Locations(Location((169.4, -160.5, 0), (0, 0, 270))):
            Circle(CROQUIS7_R)
        with Locations(Location((120.5, -160.5, 0), (0, 0, 270))):
            Circle(CROQUIS7_R)
    extrude(amount=-CORTAR_EXTRUIR6_DEPTH, mode=Mode.SUBTRACT)

    # Croquis8 → Saliente-Extruir2 (add)
    with BuildSketch(Plane.XZ):
        with Locations((220.25, -334.5)):
            Rectangle(CROQUIS8_W, CROQUIS8_H)
    extrude(amount=-SALIENTE_EXTRUIR2_DEPTH)

    # Croquis9 → Cortar-Extruir7 (cut)
    with BuildSketch(Plane.XZ):
        with Locations(Location((428, -335, 0), (0, 0, 270))):
            Circle(CROQUIS9_R)
        with Locations(Location((12.5, -335, 0), (0, 0, 270))):
            Circle(CROQUIS9_R)
    extrude(amount=-CORTAR_EXTRUIR7_DEPTH, mode=Mode.SUBTRACT)

    # Croquis10 → Saliente-Extruir3 (add)
    with BuildSketch(Plane.XZ):
        with Locations((428, -305)):
            Circle(CROQUIS10_R)
        with Locations((12.5, -305)):
            Circle(CROQUIS10_R)
    extrude(amount=-SALIENTE_EXTRUIR3_DEPTH)


solid = part.part
